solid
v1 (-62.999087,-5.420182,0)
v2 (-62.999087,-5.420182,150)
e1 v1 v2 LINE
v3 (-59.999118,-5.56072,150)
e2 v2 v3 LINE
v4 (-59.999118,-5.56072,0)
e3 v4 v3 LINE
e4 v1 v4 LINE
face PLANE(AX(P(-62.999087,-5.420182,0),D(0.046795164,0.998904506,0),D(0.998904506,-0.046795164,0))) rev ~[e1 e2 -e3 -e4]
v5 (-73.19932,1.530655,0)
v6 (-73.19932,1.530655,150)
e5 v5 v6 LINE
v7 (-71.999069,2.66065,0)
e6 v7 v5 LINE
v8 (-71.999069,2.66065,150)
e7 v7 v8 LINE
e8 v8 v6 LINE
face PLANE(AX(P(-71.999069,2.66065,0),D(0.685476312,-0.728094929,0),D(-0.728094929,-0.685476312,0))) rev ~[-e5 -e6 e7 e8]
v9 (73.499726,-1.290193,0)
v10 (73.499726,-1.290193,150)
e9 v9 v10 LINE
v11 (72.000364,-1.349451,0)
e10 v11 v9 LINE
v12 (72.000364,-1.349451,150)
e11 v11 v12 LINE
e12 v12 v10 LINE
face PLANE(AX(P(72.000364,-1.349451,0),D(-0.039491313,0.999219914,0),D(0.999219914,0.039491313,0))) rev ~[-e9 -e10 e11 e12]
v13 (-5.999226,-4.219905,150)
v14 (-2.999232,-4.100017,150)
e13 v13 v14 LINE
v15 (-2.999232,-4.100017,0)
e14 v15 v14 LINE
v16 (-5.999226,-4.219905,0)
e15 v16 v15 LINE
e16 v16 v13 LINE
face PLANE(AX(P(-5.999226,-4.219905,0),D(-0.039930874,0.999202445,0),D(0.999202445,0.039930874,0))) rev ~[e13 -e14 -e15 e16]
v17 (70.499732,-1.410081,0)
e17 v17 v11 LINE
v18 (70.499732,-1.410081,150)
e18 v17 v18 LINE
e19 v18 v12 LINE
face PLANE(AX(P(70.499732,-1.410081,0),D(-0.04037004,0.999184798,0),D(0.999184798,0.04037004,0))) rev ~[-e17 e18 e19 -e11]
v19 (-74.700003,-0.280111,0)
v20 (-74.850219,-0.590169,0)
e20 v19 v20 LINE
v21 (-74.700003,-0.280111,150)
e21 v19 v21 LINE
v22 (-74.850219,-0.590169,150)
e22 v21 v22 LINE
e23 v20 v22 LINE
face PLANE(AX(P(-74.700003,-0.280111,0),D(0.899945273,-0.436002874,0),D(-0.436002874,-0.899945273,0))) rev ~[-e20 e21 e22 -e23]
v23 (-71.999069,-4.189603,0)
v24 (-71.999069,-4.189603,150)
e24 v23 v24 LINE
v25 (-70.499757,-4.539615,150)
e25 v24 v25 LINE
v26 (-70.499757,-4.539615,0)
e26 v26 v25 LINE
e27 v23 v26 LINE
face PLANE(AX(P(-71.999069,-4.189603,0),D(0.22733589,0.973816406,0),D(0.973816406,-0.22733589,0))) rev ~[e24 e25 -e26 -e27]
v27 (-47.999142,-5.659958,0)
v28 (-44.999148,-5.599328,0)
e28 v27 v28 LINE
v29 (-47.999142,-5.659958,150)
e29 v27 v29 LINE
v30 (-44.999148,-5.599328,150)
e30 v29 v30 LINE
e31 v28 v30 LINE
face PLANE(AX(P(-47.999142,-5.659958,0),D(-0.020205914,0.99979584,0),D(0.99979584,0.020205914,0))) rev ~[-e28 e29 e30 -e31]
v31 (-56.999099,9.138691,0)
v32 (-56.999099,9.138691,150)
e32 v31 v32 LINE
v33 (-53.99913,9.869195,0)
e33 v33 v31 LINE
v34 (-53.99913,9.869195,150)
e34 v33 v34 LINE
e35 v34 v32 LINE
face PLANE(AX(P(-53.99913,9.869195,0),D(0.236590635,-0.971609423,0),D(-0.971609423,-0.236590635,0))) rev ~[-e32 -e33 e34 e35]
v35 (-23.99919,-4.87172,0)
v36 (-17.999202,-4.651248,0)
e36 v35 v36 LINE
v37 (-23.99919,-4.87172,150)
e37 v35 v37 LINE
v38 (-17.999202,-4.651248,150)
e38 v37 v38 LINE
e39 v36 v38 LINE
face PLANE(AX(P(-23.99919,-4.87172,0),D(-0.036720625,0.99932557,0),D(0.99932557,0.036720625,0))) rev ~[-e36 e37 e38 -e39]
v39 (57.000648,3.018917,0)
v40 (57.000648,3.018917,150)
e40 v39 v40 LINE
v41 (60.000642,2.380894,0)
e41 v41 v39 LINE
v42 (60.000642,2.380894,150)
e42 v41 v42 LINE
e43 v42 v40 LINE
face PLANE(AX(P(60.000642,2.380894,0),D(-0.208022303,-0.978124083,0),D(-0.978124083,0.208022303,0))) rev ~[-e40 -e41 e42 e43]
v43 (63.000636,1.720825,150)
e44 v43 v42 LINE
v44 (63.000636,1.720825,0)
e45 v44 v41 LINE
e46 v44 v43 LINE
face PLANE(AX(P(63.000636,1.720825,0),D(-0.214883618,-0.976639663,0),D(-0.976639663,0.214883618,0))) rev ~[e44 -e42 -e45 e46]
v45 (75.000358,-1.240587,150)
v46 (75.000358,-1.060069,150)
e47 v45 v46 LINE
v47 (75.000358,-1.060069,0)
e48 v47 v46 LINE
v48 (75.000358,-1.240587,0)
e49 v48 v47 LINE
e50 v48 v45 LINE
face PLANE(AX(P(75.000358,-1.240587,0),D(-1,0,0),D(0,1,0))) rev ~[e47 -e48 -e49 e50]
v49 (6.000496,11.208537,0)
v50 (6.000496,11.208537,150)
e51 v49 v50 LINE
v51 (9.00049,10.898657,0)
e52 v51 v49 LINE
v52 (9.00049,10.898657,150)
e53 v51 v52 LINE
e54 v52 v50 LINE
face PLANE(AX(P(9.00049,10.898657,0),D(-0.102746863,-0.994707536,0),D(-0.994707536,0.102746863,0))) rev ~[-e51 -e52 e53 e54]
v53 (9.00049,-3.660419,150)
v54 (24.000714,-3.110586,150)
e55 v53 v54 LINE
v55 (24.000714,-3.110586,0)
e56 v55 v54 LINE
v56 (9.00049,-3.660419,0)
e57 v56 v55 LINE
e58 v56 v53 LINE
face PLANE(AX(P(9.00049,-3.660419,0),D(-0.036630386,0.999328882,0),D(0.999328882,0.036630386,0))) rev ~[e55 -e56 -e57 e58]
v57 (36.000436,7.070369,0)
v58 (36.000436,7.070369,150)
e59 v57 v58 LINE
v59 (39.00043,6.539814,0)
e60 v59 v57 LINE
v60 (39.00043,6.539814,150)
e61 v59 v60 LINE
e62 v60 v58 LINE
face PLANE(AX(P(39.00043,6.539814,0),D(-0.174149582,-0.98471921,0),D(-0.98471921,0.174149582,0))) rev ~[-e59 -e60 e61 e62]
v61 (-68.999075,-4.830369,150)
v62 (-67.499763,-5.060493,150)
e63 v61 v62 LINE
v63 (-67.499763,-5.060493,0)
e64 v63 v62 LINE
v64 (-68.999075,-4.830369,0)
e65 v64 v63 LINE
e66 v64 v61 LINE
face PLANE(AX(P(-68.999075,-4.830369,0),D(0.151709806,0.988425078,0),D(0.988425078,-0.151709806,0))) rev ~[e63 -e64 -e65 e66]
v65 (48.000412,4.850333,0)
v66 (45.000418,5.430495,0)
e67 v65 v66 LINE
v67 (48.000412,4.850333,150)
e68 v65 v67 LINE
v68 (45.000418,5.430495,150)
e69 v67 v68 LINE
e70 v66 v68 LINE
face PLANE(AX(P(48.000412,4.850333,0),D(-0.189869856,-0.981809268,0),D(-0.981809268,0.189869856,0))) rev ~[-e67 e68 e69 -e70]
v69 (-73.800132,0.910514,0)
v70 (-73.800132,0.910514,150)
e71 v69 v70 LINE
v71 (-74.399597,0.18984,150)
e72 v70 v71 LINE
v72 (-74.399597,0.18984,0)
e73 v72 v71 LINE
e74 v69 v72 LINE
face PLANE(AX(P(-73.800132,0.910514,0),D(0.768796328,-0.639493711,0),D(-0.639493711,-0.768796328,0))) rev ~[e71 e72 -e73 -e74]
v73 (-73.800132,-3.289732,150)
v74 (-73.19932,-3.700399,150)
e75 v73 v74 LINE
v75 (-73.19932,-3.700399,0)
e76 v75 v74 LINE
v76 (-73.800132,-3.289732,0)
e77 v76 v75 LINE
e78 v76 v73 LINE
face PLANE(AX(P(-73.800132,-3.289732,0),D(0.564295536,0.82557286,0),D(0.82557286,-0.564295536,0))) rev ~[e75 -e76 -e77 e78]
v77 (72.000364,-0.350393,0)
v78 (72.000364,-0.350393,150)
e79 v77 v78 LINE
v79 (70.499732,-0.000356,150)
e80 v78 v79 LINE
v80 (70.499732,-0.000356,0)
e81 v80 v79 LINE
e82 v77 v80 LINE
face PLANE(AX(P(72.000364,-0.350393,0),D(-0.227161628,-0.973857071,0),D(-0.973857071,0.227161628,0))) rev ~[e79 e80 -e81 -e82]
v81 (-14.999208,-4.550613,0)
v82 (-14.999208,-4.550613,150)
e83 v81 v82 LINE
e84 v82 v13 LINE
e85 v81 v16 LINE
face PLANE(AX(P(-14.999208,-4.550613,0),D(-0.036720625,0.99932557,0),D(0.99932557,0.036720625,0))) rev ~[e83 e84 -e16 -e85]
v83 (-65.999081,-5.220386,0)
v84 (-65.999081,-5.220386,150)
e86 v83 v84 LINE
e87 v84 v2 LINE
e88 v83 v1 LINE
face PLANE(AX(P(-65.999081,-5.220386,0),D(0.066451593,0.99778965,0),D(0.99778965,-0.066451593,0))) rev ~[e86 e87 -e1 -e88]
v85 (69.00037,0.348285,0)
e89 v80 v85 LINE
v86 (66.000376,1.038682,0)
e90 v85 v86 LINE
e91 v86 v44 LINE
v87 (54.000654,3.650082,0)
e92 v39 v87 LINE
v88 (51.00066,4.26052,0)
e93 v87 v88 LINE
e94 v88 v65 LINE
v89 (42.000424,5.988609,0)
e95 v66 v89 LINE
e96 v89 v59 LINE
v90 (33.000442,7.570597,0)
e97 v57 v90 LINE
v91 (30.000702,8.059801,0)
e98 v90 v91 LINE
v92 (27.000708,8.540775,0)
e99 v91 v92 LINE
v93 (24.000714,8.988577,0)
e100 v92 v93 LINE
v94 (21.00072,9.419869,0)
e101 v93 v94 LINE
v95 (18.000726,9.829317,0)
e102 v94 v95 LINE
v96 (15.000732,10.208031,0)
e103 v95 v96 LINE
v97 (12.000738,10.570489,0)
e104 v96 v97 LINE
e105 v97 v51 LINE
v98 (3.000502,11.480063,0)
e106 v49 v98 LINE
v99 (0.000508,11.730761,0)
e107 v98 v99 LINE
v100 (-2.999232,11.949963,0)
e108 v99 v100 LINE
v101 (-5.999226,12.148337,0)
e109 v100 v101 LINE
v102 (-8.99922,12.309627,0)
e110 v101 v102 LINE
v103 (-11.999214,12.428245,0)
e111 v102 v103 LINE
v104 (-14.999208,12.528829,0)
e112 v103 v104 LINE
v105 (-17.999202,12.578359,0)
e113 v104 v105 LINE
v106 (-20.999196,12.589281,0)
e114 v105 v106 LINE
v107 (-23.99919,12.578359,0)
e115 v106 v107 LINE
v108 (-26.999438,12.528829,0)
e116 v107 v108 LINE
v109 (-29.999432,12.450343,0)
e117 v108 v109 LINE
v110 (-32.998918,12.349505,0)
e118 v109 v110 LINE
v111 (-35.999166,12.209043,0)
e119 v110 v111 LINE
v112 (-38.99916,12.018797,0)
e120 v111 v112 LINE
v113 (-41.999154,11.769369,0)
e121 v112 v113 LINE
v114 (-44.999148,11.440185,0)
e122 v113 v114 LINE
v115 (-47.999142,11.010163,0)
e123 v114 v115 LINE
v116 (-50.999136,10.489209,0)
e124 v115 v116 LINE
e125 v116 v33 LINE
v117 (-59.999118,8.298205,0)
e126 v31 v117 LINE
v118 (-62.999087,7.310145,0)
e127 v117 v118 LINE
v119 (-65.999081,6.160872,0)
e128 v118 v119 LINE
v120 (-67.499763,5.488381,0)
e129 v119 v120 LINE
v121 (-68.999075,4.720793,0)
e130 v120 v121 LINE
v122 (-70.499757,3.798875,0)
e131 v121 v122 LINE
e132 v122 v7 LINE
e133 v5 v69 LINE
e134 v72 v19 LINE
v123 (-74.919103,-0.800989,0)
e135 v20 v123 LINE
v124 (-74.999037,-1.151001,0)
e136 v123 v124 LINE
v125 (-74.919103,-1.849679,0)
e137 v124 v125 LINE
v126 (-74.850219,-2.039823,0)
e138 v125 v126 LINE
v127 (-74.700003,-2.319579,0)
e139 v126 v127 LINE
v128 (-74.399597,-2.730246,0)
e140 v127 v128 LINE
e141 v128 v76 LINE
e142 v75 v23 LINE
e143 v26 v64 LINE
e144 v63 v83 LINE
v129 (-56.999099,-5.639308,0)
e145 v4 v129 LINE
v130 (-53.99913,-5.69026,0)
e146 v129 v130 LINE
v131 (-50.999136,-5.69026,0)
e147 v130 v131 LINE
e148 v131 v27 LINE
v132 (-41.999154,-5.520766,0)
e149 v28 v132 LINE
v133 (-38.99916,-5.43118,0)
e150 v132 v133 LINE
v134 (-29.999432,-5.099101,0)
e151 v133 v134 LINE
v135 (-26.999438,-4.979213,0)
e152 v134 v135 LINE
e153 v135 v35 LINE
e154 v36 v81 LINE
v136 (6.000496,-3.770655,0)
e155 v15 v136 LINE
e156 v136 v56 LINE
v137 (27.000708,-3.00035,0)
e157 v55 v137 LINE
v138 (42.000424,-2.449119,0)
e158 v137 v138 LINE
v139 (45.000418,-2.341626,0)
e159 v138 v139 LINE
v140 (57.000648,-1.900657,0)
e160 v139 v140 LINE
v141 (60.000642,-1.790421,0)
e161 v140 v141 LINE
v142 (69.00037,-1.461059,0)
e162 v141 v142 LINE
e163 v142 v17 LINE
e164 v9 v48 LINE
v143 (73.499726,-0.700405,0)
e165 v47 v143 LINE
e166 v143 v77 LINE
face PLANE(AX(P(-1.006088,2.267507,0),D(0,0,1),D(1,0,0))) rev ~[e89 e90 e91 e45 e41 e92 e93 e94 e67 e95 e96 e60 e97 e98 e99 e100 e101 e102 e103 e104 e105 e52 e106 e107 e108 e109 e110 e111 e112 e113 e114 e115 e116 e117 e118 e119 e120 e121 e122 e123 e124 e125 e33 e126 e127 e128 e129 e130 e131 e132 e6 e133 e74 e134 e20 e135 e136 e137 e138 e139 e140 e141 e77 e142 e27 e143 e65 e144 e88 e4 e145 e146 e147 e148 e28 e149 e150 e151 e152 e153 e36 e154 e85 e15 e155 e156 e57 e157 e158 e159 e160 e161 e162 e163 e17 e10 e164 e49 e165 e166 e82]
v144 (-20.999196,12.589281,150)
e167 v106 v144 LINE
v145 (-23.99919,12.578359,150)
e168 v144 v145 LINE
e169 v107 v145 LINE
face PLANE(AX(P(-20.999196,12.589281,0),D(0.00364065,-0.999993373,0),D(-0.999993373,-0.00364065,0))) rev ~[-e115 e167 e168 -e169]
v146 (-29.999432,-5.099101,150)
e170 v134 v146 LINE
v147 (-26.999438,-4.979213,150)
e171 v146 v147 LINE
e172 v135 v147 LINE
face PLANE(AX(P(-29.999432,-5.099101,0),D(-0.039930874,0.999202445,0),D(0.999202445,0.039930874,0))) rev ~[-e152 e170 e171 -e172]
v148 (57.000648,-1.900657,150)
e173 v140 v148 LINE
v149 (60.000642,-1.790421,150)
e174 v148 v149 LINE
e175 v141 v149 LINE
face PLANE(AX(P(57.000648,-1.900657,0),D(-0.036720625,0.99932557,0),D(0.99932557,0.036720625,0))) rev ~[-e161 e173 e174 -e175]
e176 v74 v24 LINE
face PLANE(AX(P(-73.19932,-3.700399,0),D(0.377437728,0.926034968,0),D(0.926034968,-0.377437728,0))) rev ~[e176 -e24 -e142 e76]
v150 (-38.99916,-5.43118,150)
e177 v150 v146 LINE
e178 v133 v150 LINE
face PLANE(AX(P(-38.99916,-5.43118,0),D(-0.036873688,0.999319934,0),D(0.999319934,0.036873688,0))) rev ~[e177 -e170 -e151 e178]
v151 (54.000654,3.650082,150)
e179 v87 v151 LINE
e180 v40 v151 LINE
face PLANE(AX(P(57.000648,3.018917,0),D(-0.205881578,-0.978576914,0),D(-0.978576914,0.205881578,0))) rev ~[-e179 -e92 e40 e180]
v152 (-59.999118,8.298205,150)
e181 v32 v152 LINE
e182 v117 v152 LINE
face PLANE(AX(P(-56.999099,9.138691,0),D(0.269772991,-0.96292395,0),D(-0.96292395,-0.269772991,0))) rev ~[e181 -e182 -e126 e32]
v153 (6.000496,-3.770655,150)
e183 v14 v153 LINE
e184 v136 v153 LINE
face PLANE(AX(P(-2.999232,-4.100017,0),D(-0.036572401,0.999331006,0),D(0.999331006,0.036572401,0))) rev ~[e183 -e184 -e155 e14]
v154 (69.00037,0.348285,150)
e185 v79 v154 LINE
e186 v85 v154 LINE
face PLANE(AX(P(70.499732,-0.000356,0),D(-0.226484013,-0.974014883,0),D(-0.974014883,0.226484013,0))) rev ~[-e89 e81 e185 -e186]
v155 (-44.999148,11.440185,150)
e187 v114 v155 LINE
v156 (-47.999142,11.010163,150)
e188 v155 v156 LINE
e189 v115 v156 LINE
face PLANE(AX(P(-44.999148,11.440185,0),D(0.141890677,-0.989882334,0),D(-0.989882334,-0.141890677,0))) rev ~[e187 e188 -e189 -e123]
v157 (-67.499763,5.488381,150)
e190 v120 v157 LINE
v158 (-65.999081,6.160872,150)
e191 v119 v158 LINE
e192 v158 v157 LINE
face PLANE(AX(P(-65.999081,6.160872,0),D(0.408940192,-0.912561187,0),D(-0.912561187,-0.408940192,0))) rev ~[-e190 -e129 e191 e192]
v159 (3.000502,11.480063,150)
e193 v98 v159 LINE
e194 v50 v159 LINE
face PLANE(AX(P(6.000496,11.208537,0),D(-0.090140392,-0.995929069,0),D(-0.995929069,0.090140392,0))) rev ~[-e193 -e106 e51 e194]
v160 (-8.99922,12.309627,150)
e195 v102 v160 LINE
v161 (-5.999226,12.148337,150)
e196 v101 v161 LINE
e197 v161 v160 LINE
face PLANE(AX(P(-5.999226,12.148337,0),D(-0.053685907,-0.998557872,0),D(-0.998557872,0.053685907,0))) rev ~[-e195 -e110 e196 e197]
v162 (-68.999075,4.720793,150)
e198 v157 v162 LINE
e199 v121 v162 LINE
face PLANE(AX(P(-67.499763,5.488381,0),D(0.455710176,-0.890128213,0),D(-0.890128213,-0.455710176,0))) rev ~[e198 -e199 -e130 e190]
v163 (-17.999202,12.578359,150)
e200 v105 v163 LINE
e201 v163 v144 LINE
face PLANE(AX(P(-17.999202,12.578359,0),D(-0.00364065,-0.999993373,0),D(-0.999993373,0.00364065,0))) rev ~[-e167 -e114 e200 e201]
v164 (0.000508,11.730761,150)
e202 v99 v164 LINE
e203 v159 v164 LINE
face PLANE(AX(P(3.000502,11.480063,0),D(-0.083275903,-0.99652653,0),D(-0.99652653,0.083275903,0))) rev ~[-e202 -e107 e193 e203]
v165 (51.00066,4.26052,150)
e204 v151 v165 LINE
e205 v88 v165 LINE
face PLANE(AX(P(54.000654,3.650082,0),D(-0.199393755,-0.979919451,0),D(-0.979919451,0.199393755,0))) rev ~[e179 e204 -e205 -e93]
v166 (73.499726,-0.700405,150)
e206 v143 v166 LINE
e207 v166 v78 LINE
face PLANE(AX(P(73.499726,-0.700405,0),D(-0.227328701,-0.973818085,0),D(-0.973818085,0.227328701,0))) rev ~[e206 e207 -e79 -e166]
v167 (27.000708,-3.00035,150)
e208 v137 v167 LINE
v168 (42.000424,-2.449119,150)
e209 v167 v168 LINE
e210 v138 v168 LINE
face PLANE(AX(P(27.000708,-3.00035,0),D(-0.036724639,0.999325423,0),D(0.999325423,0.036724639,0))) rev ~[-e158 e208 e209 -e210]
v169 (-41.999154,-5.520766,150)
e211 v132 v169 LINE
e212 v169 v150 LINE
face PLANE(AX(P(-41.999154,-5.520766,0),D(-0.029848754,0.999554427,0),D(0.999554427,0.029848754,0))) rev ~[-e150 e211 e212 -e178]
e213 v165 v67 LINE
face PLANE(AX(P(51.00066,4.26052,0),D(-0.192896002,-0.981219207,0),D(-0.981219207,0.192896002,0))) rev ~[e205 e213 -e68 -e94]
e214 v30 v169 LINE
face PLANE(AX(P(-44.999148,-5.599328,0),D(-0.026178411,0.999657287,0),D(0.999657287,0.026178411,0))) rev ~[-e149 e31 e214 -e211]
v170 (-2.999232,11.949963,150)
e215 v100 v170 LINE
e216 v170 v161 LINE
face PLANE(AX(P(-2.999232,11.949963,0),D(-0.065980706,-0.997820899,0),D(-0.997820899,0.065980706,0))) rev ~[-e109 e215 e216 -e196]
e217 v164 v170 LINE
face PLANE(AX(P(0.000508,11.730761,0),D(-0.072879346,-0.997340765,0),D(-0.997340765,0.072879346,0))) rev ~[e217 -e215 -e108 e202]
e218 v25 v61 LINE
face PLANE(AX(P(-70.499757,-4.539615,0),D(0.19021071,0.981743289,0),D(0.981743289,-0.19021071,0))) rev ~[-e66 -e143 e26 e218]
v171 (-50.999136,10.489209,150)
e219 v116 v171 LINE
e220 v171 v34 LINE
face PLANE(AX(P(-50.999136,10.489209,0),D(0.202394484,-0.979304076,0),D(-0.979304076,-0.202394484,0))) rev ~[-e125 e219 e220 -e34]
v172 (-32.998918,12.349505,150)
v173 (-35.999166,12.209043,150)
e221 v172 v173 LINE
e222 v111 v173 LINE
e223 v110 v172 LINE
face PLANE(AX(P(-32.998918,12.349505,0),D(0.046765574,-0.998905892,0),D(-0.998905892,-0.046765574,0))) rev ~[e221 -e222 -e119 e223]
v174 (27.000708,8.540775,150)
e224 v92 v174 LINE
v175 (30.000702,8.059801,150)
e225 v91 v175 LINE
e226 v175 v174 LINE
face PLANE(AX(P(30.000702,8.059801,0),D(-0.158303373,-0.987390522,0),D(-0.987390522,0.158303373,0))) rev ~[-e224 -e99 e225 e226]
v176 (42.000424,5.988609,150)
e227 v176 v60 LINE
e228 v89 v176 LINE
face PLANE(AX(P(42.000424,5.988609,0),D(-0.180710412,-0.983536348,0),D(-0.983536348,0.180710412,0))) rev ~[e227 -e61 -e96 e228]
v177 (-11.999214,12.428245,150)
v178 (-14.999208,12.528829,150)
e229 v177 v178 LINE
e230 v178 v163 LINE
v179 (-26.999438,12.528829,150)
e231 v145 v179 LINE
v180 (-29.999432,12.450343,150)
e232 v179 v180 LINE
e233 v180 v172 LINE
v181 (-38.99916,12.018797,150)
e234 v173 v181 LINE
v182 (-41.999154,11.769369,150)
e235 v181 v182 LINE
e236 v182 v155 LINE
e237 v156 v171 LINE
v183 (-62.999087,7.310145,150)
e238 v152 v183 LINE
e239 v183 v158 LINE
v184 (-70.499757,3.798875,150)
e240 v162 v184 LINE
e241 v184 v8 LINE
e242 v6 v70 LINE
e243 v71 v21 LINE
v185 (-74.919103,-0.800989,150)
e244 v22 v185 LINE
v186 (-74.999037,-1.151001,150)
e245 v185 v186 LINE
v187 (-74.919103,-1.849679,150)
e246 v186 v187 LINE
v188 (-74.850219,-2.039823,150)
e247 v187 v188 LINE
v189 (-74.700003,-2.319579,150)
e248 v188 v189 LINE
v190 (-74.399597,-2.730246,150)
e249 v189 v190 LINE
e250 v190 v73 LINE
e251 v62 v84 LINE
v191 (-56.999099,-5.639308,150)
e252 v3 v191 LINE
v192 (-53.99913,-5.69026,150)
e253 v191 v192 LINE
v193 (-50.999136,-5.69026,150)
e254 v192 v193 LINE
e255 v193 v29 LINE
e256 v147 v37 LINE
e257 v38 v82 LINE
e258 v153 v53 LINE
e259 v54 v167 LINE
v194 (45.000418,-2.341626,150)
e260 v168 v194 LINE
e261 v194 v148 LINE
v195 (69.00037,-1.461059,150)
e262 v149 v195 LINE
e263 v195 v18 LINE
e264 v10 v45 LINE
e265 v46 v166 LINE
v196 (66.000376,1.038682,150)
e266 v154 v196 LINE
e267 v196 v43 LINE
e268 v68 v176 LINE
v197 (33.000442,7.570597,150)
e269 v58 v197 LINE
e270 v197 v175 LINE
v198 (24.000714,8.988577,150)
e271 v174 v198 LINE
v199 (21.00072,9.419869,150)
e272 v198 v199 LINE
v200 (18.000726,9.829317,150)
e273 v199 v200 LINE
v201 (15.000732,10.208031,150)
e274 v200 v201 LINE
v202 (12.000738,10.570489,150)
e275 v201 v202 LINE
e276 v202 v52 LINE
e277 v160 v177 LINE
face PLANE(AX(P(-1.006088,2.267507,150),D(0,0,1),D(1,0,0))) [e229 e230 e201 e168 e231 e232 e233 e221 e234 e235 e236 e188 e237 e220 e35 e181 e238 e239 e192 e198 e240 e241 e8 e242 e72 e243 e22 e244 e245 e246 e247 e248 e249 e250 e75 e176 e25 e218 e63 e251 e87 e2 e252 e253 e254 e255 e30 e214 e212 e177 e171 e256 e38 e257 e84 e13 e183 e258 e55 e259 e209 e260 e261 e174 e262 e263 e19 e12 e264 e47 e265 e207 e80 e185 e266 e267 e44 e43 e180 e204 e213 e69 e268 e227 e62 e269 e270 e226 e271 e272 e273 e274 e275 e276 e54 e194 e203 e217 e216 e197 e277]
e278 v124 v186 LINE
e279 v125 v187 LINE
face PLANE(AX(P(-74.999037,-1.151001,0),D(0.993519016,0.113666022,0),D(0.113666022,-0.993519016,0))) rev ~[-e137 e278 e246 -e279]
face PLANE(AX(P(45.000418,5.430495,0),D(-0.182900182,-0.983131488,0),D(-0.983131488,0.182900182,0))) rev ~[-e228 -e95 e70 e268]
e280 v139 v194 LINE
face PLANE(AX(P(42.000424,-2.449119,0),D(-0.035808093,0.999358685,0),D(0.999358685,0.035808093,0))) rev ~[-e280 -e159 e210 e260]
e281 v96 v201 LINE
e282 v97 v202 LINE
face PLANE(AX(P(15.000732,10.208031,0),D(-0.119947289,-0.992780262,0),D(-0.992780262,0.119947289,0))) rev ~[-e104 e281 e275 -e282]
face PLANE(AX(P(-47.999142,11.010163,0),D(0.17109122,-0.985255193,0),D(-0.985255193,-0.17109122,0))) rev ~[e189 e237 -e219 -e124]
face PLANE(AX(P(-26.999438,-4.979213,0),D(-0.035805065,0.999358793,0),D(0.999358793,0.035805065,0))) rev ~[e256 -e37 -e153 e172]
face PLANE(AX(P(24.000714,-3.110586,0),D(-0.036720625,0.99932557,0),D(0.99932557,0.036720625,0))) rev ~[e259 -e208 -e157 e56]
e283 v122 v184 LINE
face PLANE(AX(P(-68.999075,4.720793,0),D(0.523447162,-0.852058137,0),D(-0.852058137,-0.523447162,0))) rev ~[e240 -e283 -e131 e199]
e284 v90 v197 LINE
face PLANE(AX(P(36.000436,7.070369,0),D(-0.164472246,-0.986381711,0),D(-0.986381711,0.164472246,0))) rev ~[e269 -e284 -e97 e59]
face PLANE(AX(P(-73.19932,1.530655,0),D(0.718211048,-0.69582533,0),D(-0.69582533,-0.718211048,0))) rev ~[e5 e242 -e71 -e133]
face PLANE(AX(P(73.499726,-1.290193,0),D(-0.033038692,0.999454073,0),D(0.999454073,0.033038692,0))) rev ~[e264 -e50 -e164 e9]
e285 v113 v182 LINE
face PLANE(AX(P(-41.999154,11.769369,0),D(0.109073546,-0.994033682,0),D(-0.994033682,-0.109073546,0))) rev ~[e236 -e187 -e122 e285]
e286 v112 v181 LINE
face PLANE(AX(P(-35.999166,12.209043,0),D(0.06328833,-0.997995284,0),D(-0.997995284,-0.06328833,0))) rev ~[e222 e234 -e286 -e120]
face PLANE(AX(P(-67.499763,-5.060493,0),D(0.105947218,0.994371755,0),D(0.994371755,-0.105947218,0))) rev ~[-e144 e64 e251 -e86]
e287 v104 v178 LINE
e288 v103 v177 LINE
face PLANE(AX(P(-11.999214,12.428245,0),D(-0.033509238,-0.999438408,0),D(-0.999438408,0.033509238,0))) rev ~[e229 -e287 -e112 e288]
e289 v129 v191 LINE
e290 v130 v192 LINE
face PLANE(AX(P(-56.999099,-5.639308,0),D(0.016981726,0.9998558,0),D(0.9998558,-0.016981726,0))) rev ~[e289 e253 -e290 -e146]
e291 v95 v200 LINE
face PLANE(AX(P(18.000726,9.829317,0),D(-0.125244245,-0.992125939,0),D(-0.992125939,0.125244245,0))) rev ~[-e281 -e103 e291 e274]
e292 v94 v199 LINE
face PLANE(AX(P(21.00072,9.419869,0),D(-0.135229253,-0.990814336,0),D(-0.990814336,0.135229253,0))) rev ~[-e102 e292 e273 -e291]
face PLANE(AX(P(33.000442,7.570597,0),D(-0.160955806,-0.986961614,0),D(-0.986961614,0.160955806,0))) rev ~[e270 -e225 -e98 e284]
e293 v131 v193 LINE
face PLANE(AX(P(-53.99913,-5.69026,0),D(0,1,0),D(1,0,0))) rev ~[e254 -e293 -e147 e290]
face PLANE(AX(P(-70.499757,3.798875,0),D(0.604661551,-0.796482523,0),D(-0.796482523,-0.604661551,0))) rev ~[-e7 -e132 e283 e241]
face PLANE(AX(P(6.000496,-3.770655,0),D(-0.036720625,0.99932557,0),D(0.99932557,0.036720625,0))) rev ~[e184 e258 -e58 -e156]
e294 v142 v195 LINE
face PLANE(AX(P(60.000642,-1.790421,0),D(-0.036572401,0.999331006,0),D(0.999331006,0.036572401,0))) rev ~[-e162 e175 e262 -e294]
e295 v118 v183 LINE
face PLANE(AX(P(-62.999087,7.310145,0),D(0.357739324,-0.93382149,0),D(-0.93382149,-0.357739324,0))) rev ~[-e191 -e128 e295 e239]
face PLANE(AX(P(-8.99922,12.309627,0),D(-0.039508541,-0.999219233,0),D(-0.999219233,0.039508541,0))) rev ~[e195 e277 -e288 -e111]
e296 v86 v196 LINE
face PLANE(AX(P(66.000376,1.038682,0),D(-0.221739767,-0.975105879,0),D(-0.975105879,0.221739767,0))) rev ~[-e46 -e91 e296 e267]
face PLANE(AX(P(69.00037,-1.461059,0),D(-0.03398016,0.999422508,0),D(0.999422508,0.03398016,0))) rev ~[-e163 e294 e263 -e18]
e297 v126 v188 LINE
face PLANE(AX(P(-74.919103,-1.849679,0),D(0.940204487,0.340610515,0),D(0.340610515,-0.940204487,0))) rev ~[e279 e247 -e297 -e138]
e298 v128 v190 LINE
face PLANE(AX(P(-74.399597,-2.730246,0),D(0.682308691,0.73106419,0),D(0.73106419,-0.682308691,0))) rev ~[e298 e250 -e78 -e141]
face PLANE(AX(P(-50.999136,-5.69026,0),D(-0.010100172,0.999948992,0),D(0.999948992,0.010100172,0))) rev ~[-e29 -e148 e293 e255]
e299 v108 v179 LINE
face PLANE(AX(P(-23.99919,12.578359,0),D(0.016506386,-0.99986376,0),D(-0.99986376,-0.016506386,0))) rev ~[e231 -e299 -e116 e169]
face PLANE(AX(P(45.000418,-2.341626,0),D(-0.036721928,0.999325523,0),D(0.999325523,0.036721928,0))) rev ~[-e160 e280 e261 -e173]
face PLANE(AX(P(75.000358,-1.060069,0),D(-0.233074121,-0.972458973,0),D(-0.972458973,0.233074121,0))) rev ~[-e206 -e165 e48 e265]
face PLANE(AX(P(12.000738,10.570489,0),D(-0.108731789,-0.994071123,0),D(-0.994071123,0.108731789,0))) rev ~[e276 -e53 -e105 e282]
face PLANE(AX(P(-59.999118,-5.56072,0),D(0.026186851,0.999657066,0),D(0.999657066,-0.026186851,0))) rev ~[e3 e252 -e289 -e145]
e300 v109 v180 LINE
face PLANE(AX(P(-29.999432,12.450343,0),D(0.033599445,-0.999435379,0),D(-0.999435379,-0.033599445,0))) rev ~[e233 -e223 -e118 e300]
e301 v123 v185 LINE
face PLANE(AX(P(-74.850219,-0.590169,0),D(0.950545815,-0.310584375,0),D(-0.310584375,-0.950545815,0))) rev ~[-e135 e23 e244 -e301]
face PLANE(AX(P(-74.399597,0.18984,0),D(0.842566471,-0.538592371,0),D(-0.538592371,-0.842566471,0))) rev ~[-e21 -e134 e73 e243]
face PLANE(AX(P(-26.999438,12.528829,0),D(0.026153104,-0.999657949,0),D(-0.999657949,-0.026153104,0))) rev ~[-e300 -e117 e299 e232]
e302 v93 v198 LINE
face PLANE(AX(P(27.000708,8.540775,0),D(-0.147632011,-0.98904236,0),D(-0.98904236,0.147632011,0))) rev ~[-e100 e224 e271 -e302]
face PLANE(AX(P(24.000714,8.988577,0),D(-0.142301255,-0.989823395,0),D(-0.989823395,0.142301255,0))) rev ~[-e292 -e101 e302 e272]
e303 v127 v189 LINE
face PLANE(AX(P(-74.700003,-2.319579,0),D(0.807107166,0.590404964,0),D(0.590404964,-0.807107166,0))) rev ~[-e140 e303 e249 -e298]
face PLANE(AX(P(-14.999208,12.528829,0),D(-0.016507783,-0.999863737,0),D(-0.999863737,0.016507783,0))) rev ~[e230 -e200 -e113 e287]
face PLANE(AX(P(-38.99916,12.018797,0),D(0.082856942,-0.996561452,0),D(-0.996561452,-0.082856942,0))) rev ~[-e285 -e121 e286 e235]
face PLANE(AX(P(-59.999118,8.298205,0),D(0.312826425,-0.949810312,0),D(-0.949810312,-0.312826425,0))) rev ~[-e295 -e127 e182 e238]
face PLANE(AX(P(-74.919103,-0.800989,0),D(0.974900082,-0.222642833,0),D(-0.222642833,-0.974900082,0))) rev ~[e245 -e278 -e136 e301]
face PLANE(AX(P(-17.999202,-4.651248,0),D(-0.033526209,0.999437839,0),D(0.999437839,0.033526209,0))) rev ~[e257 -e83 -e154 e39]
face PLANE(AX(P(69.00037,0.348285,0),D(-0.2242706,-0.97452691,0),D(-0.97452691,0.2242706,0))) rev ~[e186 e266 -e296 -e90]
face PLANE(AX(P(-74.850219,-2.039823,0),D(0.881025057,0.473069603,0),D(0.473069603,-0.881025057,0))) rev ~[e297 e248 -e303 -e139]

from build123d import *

# Parameters (mm, degrees)
F1_DEPTH = 150


with BuildPart() as f1:
    # F0 (on Top) → F1 (new body)
    with BuildSketch(Plane.XY):
        Polygon((75.000358, -1.240587), (75.000358, -1.060069), (73.499726, -0.700405), (72.000364, -0.350393), (70.499732, -0.000356), (69.00037, 0.348285), (66.000376, 1.038682), (63.000636, 1.720825), (60.000642, 2.380894), (57.000648, 3.018917), (54.000654, 3.650082), (51.00066, 4.26052), (48.000412, 4.850333), (45.000418, 5.430495), (42.000424, 5.988609), (39.00043, 6.539814), (36.000436, 7.070369), (33.000442, 7.570597), (30.000702, 8.059801), (27.000708, 8.540775), (24.000714, 8.988577), (21.00072, 9.419869), (18.000726, 9.829317), (15.000732, 10.208031), (12.000738, 10.570489), (9.00049, 10.898657), (6.000496, 11.208537), (3.000502, 11.480063), (0.000508, 11.730761), (-2.999232, 11.949963), (-5.999226, 12.148337), (-8.99922, 12.309627), (-11.999214, 12.428245), (-14.999208, 12.528829), (-17.999202, 12.578359), (-20.999196, 12.589281), (-23.99919, 12.578359), (-26.999438, 12.528829), (-29.999432, 12.450343), (-32.998918, 12.349505), (-35.999166, 12.209043), (-38.99916, 12.018797), (-41.999154, 11.769369), (-44.999148, 11.440185), (-47.999142, 11.010163), (-50.999136, 10.489209), (-53.99913, 9.869195), (-56.999099, 9.138691), (-59.999118, 8.298205), (-62.999087, 7.310145), (-65.999081, 6.160872), (-67.499763, 5.488381), (-68.999075, 4.720793), (-70.499757, 3.798875), (-71.999069, 2.66065), (-73.19932, 1.530655), (-73.800132, 0.910514), (-74.399597, 0.18984), (-74.700003, -0.280111), (-74.850219, -0.590169), (-74.919103, -0.800989), (-74.999037, -1.151001), (-74.919103, -1.849679), (-74.850219, -2.039823), (-74.700003, -2.319579), (-74.399597, -2.730246), (-73.800132, -3.289732), (-73.19932, -3.700399), (-71.999069, -4.189603), (-70.499757, -4.539615), (-68.999075, -4.830369), (-67.499763, -5.060493), (-65.999081, -5.220386), (-62.999087, -5.420182), (-59.999118, -5.56072), (-56.999099, -5.639308), (-53.99913, -5.69026), (-50.999136, -5.69026), (-47.999142, -5.659958), (-44.999148, -5.599328), (-41.999154, -5.520766), (-38.99916, -5.43118), (-29.999432, -5.099101), (-26.999438, -4.979213), (-23.99919, -4.87172), (-17.999202, -4.651248), (-14.999208, -4.550613), (-11.999214, -4.440377), (-5.999226, -4.219905), (-2.999232, -4.100017), (6.000496, -3.770655), (9.00049, -3.660419), (24.000714, -3.110586), (27.000708, -3.00035), (42.000424, -2.449119), (45.000418, -2.341626), (57.000648, -1.900657), (60.000642, -1.790421), (69.00037, -1.461059), (70.499732, -1.410081), (72.000364, -1.349451), (73.499726, -1.290193), align=None)
    extrude(amount=F1_DEPTH)


solid = f1.part
